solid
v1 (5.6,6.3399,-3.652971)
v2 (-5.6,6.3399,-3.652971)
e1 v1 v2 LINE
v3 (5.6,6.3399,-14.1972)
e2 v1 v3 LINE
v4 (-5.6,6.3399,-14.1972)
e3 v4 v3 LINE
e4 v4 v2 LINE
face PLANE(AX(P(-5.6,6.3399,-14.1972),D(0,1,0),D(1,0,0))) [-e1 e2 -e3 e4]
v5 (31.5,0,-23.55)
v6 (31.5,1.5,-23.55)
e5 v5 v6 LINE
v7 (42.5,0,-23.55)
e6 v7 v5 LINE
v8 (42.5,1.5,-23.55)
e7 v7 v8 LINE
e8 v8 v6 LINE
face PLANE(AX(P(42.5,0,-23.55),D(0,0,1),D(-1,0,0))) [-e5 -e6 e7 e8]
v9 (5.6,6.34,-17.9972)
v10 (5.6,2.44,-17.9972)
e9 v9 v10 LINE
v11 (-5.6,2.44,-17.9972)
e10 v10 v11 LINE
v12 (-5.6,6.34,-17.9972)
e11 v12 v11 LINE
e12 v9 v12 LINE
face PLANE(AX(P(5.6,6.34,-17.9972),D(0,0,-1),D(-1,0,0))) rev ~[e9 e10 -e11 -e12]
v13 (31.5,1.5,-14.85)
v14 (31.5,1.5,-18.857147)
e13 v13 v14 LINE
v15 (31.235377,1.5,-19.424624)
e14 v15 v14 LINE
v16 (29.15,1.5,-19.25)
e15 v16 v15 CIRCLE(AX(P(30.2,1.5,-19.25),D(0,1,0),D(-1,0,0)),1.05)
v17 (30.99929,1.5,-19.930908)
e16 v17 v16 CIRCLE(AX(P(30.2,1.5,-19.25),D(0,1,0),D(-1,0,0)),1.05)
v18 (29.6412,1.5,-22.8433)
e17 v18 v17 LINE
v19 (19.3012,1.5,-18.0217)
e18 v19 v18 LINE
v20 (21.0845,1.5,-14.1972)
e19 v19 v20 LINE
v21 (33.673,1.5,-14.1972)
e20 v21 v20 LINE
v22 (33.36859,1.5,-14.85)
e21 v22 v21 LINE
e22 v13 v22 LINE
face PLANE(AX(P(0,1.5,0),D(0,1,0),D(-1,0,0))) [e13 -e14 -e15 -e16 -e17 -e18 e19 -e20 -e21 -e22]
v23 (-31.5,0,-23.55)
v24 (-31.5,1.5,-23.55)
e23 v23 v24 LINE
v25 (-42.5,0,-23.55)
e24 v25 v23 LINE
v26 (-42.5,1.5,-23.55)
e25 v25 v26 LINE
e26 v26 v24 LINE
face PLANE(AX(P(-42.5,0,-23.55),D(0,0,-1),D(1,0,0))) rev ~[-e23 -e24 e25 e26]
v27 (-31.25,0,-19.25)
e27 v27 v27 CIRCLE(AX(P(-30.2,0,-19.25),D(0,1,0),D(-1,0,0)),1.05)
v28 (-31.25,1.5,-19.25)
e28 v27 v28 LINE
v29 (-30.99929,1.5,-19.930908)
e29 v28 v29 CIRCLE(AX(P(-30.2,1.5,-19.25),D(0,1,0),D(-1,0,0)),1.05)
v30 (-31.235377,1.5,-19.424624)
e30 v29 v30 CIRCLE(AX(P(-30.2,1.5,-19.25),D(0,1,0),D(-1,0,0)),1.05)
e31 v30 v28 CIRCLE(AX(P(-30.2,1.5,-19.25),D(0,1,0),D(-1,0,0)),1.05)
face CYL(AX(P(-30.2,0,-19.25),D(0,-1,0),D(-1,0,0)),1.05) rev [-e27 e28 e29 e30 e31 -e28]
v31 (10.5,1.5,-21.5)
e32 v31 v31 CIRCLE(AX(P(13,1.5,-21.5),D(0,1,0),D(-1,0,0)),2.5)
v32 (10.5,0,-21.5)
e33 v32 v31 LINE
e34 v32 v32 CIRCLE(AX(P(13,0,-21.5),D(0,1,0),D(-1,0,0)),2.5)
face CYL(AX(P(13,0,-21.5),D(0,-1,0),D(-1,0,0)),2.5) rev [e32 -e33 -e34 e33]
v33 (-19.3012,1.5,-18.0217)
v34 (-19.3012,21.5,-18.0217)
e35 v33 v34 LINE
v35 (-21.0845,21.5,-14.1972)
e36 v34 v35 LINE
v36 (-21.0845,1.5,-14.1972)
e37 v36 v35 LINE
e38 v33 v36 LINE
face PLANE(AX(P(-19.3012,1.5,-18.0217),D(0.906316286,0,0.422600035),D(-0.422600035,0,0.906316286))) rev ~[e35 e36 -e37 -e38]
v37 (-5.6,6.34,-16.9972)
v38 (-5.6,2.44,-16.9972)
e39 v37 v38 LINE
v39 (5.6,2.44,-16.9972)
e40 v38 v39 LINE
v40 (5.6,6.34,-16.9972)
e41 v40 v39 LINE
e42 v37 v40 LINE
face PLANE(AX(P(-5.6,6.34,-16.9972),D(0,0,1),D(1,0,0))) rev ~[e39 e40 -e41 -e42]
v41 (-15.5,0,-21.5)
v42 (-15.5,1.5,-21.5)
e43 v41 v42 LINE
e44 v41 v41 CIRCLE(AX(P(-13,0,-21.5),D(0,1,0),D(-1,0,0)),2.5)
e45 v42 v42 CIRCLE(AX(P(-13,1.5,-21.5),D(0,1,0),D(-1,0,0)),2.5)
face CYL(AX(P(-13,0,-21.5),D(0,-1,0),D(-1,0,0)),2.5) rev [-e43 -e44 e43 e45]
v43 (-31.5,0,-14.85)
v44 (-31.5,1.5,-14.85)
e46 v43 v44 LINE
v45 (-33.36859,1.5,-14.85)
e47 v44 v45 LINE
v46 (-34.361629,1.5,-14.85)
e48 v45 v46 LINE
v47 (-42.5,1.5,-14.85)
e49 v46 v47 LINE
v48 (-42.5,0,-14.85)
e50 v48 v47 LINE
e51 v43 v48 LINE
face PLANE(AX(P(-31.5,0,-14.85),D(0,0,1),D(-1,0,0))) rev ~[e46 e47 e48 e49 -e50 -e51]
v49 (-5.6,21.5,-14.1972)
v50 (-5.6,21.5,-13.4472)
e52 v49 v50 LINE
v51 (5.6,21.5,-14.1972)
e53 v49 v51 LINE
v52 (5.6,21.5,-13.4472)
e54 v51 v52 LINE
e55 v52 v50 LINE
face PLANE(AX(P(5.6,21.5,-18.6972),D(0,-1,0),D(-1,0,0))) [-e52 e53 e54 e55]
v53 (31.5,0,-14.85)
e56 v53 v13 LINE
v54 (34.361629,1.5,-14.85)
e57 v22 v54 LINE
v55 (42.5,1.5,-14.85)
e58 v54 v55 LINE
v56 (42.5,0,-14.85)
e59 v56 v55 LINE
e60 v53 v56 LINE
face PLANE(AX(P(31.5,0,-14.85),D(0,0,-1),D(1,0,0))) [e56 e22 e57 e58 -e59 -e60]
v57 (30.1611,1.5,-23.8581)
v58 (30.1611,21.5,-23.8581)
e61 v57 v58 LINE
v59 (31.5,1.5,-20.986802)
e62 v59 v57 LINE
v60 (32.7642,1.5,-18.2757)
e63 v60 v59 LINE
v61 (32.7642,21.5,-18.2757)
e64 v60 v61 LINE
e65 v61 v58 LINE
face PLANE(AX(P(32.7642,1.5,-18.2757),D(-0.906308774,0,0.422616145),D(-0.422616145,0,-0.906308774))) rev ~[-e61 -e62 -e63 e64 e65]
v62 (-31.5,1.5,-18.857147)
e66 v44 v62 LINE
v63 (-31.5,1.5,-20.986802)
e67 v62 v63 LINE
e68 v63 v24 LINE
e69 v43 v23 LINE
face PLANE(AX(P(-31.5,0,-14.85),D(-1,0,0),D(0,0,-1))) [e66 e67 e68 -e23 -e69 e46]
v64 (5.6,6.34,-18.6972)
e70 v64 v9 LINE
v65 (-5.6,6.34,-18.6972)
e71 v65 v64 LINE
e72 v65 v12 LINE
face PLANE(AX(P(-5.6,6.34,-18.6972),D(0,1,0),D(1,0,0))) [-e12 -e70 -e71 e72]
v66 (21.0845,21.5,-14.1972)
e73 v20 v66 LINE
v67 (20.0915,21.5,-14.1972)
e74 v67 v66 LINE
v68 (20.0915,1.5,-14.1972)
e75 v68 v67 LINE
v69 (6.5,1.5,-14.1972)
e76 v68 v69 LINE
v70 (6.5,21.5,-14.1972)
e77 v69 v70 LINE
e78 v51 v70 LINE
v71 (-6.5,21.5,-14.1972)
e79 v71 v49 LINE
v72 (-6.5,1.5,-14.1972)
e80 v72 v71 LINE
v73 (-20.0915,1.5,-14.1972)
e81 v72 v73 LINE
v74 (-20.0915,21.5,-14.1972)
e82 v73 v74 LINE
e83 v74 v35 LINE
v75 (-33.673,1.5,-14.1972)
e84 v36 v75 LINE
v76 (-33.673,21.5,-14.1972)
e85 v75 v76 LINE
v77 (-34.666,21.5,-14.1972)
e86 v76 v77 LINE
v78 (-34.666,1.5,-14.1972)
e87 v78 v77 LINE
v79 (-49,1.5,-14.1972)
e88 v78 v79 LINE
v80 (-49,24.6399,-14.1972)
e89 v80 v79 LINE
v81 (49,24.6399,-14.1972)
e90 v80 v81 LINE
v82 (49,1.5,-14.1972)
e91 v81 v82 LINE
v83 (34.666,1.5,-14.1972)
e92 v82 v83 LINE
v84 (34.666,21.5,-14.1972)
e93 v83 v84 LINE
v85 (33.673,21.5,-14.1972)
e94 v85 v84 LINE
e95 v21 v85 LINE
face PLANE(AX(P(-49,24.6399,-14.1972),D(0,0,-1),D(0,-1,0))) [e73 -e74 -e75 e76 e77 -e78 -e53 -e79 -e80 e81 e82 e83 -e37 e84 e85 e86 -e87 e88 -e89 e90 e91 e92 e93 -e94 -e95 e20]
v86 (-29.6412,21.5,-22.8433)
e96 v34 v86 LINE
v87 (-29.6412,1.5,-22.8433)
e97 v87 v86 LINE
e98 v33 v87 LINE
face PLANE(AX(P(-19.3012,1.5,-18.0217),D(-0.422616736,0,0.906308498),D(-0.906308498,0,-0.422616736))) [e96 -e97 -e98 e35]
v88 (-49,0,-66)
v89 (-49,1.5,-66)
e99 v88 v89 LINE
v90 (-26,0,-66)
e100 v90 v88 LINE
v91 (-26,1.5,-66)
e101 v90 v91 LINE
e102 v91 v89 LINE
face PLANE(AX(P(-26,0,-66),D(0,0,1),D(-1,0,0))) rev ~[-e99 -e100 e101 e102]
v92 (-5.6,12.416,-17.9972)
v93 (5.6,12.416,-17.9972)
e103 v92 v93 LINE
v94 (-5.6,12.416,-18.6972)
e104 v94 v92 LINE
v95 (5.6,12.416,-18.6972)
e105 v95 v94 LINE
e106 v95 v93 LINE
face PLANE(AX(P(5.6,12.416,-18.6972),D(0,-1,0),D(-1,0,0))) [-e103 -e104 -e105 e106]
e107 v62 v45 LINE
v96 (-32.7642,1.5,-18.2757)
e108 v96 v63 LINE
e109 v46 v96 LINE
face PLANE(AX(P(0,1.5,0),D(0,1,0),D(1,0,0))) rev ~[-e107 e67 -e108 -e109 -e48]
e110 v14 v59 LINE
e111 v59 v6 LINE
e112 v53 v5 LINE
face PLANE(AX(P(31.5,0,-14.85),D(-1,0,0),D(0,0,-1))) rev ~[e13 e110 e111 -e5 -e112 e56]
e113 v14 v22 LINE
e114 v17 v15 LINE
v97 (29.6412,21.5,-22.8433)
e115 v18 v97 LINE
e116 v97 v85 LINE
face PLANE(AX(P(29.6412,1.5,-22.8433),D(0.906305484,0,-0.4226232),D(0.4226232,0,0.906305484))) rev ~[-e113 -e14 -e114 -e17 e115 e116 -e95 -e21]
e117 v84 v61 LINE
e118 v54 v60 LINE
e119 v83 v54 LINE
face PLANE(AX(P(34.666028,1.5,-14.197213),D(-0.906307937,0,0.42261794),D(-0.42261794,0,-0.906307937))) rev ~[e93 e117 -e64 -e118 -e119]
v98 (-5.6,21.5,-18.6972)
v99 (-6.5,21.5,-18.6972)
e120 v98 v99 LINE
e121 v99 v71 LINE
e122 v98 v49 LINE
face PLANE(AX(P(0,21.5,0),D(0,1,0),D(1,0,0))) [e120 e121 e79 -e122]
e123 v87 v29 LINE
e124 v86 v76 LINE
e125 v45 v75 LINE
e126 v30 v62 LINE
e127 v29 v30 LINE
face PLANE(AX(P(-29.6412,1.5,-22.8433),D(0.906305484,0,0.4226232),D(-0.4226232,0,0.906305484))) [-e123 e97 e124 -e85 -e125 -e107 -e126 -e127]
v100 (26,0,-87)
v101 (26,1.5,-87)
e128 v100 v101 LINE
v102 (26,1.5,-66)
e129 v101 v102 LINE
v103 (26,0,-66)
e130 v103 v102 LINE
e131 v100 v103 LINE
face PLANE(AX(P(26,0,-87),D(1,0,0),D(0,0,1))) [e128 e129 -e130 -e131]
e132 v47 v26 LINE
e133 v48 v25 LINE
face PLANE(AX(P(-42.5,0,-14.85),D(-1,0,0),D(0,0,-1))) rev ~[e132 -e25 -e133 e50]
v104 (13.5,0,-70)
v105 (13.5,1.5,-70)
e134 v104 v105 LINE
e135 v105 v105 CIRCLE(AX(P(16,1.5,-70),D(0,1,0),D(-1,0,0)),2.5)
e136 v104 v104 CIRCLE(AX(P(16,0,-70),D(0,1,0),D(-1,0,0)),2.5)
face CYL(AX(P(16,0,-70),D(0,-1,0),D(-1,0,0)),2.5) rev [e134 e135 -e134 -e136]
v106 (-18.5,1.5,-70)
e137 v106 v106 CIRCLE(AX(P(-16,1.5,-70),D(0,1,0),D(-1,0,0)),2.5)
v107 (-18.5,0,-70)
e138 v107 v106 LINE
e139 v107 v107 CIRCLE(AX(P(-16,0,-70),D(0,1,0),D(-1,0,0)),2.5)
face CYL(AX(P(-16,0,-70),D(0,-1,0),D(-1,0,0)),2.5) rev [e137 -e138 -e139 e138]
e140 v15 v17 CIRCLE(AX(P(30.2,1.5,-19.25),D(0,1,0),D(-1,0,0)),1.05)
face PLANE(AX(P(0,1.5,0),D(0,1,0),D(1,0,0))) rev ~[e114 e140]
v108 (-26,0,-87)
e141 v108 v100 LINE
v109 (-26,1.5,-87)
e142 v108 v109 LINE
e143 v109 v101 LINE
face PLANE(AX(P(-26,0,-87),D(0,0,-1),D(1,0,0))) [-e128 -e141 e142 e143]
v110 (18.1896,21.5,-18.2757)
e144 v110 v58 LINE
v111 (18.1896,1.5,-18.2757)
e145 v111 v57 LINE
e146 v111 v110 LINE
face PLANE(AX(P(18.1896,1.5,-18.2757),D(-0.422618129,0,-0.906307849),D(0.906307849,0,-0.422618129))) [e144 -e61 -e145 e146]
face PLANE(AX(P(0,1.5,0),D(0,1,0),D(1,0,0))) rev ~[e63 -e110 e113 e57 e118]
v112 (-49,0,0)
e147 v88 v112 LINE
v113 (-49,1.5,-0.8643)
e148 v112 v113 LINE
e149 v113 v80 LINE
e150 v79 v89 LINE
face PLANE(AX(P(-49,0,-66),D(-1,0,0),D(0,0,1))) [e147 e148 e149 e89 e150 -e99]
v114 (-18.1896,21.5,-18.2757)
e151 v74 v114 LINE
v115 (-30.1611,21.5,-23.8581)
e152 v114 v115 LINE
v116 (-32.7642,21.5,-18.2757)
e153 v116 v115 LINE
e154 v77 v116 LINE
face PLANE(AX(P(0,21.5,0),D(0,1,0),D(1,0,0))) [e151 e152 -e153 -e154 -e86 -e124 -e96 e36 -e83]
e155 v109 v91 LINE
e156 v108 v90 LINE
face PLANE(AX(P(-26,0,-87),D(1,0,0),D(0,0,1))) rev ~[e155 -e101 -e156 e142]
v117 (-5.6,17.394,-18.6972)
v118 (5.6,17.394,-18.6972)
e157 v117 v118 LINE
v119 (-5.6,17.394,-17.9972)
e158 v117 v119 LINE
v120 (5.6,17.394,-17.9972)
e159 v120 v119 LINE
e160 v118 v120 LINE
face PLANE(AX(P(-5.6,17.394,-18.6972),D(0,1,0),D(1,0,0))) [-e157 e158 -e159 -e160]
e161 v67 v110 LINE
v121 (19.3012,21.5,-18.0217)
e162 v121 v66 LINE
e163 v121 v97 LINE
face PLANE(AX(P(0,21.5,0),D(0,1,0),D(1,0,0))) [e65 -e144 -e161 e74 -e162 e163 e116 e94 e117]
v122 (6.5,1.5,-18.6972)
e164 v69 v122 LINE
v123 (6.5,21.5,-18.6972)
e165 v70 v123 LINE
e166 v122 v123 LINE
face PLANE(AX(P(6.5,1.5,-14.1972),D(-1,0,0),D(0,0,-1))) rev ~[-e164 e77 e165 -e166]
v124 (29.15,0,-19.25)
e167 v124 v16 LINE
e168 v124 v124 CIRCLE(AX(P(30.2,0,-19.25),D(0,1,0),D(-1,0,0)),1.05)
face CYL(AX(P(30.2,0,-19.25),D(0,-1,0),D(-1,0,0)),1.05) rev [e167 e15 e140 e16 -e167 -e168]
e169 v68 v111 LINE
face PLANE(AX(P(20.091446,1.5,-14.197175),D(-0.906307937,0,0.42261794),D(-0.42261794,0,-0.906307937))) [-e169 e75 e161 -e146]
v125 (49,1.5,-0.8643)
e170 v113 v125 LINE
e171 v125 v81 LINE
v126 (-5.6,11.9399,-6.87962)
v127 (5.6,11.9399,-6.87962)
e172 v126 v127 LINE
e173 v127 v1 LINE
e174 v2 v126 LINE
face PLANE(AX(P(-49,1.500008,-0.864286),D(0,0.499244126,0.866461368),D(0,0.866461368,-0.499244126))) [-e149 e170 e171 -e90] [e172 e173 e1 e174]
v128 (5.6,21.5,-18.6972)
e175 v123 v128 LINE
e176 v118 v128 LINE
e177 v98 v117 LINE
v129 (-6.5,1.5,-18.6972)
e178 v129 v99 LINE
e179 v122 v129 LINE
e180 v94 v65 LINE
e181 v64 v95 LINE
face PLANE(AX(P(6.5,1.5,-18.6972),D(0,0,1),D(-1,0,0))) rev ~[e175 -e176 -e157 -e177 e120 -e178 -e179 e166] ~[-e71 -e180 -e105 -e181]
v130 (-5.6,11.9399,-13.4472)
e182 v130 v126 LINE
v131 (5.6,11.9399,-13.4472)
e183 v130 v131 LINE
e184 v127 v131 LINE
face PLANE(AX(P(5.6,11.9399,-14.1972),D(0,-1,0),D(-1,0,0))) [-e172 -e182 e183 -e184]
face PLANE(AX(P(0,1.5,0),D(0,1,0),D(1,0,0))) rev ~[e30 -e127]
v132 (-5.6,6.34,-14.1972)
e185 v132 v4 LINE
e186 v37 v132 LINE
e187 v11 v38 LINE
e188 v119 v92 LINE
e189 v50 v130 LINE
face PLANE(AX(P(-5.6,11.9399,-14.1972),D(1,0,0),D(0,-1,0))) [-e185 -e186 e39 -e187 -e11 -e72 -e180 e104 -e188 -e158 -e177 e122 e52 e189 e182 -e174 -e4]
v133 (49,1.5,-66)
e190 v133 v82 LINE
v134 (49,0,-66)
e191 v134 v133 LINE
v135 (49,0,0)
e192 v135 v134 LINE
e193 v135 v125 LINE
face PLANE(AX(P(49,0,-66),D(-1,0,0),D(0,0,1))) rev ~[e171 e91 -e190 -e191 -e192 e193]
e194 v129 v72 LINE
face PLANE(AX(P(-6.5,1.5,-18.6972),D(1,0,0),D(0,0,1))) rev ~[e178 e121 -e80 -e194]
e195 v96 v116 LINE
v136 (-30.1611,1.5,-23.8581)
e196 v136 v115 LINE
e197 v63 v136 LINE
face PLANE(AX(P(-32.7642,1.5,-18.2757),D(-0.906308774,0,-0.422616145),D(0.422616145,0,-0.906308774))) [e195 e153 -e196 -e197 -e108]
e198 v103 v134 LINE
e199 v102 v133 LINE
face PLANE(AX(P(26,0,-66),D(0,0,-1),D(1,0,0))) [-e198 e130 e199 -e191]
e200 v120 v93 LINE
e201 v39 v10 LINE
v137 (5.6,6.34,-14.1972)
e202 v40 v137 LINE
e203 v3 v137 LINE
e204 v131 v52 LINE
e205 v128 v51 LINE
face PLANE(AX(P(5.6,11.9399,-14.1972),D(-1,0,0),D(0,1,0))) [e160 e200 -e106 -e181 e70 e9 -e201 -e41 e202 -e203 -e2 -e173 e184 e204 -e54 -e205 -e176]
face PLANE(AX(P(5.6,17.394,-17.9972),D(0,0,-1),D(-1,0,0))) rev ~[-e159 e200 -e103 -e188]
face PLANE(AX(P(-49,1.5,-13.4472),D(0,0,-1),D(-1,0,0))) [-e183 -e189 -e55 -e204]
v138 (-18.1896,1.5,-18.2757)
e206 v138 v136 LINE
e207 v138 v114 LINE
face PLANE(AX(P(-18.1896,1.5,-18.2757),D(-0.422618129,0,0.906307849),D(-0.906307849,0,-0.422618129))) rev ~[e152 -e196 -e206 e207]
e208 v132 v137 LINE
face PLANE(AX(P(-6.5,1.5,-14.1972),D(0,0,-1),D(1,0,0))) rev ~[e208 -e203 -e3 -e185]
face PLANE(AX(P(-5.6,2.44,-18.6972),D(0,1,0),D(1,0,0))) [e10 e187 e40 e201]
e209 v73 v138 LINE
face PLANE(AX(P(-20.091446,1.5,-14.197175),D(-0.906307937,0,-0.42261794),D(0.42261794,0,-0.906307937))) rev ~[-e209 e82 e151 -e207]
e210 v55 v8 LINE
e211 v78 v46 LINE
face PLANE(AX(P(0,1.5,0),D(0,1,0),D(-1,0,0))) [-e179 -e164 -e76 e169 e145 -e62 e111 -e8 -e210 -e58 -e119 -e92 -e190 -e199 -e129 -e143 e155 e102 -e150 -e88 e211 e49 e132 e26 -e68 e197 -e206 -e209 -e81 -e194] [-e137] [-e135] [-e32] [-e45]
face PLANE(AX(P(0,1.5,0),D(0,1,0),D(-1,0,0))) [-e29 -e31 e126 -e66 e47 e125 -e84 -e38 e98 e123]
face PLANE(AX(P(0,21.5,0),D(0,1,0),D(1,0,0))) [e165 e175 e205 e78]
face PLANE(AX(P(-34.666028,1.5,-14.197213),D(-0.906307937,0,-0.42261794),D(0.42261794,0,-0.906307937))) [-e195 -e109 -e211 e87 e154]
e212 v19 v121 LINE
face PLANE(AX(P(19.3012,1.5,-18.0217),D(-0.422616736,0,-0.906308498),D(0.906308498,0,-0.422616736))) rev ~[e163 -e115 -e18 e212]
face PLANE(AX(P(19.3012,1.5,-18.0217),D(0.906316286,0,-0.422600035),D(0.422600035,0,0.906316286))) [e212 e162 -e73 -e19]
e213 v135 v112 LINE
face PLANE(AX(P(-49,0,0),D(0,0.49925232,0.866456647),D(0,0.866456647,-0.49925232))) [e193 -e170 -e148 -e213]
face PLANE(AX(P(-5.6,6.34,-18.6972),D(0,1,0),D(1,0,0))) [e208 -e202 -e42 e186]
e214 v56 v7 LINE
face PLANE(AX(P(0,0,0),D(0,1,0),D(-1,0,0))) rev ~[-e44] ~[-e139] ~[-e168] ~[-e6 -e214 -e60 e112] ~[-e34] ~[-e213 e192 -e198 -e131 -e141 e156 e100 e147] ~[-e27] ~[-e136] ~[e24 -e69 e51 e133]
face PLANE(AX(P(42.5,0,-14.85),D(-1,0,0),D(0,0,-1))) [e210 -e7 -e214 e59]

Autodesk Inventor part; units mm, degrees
ref_plane "YZ Plane" through (0, 0, 0) normal (1, 0, 0) x (0, 1, 0)
ref_plane "XZ Plane" through (0, 0, 0) normal (0, 1, 0) x (-1, 0, 0)
ref_plane "XY Plane" through (0, 0, 0) normal (0, 0, 1) x (1, 0, 0)
sketch "Boceto1" plane through (0, 0, 0) normal (0, 1, 0) x (-1, 0, 0)
  line L0 (26, -66) -> (49, -66)
  line L1 (0, -87) -> (0, 0) construction
  line L2 (49, 0) -> (49, -87)
  line L3 (-49, 0) -> (49, 0)
  line L4 (-49, -87) -> (-49, 0)
  line L5 (49, -87) -> (-49, -87)
  line L6 (26, -87) -> (26, -66)
  circle A0 centre (-41.5, -7.5) radius 1.75
  line L7 (49, -12) -> (-49, -12) construction
  circle A1 centre (41.5, -7.5) radius 1.75
  line L8 (-26, -66) -> (-49, -66)
  line L9 (-26, -87) -> (-26, -66)
  line L10 (44.5, -24.05) -> (28.5, -24.05)
  line L11 (28.5, -24.05) -> (28.5, -13.05)
  line L12 (28.5, -13.05) -> (44.5, -13.05)
  line L13 (44.5, -13.05) -> (44.5, -24.05)
  line L14 (42.5, -23.55) -> (31.5, -23.55)
  line L15 (31.5, -14.85) -> (42.5, -14.85)
  line L16 (42.5, -14.85) -> (42.5, -23.55)
  circle A2 centre (30.2, -19.25) radius 1.05
  line L17 (31.5, -14.85) -> (31.5, -23.55)
  line L18 (-42.5, -23.55) -> (-31.5, -23.55)
  line L19 (-42.5, -14.85) -> (-42.5, -23.55)
  line L20 (-31.5, -14.85) -> (-42.5, -14.85)
  line L21 (-31.5, -14.85) -> (-31.5, -23.55)
  circle A3 centre (-30.2, -19.25) radius 1.05
  circle A4 centre (13, -21.5) radius 2.5
  circle A5 centre (-13, -21.5) radius 2.5
  circle A6 centre (16, -70) radius 2.5
  circle A7 centre (-16, -70) radius 2.5
  dimension "d0" = 3.5
  dimension "d1" = 0
  dimension "d2" = 87
  dimension "d3" = 21
  dimension "d4" = 12
  dimension "d5" = 23
  dimension "d6" = 98
  dimension "d7" = 7.5
  dimension "d8" = 7.5
  dimension "d9" = 79.5
  dimension "d10" = 2.1
  dimension "d11" = 9
  dimension "d12" = 11
  dimension "d13" = 16
  dimension "d14" = 1
  dimension "d15" = 3.6
  dimension "d16" = 2.1
  dimension "d17" = 1.3
  dimension "d18" = 5
  dimension "d19" = 36
  dimension "d20" = 9.5
  dimension "d21" = 5
  dimension "d22" = 17
  dimension "d23" = 10
  dimension "d24" = 8.7
  dimension "d25" = 4.3
  dimension "d26" = 4
  dimension "d27" = 11
  dimension "d28" = 54
  dimension "d29" = 2.85
extrude "Base" add sketch "Boceto1" along normal blind 1.5 contours L6 L5 L9 L8 L4 L3 L2 L0 | L10 L11 L12 L13
sketch "Boceto2" plane through (-49, 0, -66) normal (-1, 0, 0) x (0, 0, 1)
  line L0 (66, 0) -> (0, 0)
  line L1 (66, 0) -> (65.1357, 1.5)
  line L2 (66, 0) -> (67.7312, 0) construction
  line L3 (65.1357, 1.5) -> (66, 1.5)
  line L4 (66, 0) -> (66, 1.5)
  line L5 (66, 1.5) -> (66, 0)
  dimension "d32" = 119.95
extrude "Angulo Base" cut sketch "Boceto2" against normal blind 98
sketch "Boceto3" plane through (-49, 0, -66) normal (-1, 0, 0) x (0, 0, 1)
  line L0 (0, 0) -> (66, 0) projected
  line L1 (51.8028, 0) -> (66, 0)
  line L2 (66, 0) -> (51.8028, 24.6399)
  line L3 (51.8028, 24.6399) -> (51.8028, 0)
  line L4 (66, 0) -> (65.1357, 1.5) projected
  dimension "d35" = 0
extrude "Extrusión3" add sketch "Boceto3" against normal blind 98
sketch "Boceto4" plane through (-49, 1.5, -14.1972) normal (0, 0, -1) x (-1, 0, 0)
  line L0 (-55.5, 19.6399) -> (-42.5, 19.6399)
  line L1 (-42.5, 19.6399) -> (-42.5, 0.9399)
  line L2 (-42.5, 0.9399) -> (-55.5, 0.9399)
  line L3 (-55.5, 0.9399) -> (-55.5, 19.6399)
  line L4 (-54.6, 10.4399) -> (-43.4, 10.4399)
  line L5 (-43.4, 10.4399) -> (-43.4, 4.8399)
  line L6 (-43.4, 4.8399) -> (-54.6, 4.8399)
  line L7 (-54.6, 4.8399) -> (-54.6, 10.4399)
  line L8 (0, 23.1399) -> (0, 0) projected
  line L9 (-98, 0) -> (-98, 23.1399) projected
  line L10 (0, 23.1399) -> (-98, 23.1399) projected
  line L11 (0, 0) -> (-98, 0) projected
  point P0 (-49, -1.5)
  dimension "d38" = 13
  dimension "d39" = 0.9
  dimension "d40" = 0.9
  dimension "d41" = 3.9
  dimension "d42" = 5.6
  dimension "d43" = 18.7
  dimension "d44" = 42.5
  dimension "d45" = 42.5
  dimension "d46" = 3.5
  dimension "d93" = 0.9399
extrude "Extrusión4" cut sketch "Boceto4" against normal mid plane 76.25 contours L4 L5 L6 L7
sketch "Boceto5" plane through (-49, 1.5, -14.1972) normal (0, 0, -1) x (-1, 0, 0)
  line L0 (-54.6, 19.64) -> (-43.4, 19.64)
  line L1 (-43.4, 19.64) -> (-43.4, 4.84)
  line L2 (-43.4, 4.84) -> (-54.6, 4.84)
  line L3 (-54.6, 4.84) -> (-54.6, 19.64)
  line L4 (-54.6, 4.8399) -> (-54.6, 10.4399) projected
  line L5 (-43.4, 10.4399) -> (-43.4, 4.8399) projected
  line L6 (-43.4, 4.8399) -> (-54.6, 4.8399) projected
  line L7 (-75, 0) -> (-23, 0) projected
  line L8 (0, 23.1399) -> (-98, 23.1399) projected
  point P0 (-49, -1.5)
  dimension "d49" = 11.2
  dimension "d50" = 14.8
  dimension "d76" = 4.84
extrude "Extrusión5" cut sketch "Boceto5" against normal mid plane 1.5
sketch "Boceto6" plane through (0, 1.5, 0) normal (0, 1, 0) x (1, 0, 0)
  line L0 (6.5, 13.7984) -> (-6.5, 13.7984)
  line L1 (-6.5, 13.7984) -> (-6.5, 13.8318)
  line L2 (-6.5, 13.8318) -> (6.5, 13.8318)
  line L3 (6.5, 13.8318) -> (6.5, 13.7984)
  line L4 (-6.5, 13.8318) -> (6.5, 13.8318)
  line L5 (6.5, 13.8318) -> (6.5, 18.6972)
  line L6 (6.5, 18.6972) -> (-6.5, 18.6972)
  line L7 (-6.5, 18.6972) -> (-6.5, 13.8318)
  line L8 (-49, 14.1972) -> (49, 14.1972) projected
  point P0 (0, 0)
  point P1 (-6.5, 14.1972)
  point P2 (6.5, 14.1972)
  dimension "d53" = 13
  dimension "d54" = 4.5
extrude "Extrusión6" add sketch "Boceto6" along normal blind 20 contours L8 L7 L6 L5
sketch "Boceto7" plane through (6.5, 1.5, -18.6972) normal (0, 0, -1) x (-1, 0, 0)
  line L0 (0.9, 10.916) -> (12.1, 10.916)
  line L1 (12.1, 10.916) -> (12.1, 4.84)
  line L2 (12.1, 4.84) -> (0.9, 4.84)
  line L3 (0.9, 4.84) -> (0.9, 10.916)
  line L4 (13, 0) -> (0, 0) projected
  line L5 (0, 0) -> (0, 20) projected
  line L6 (0.9, 20) -> (12.1, 20)
  line L7 (12.1, 20) -> (12.1, 15.894)
  line L8 (12.1, 15.894) -> (0.9, 15.894)
  line L9 (0.9, 15.894) -> (0.9, 20)
  line L10 (0, 20) -> (13, 20) projected
  point P0 (6.5, -1.5)
  dimension "d57" = 4.84
  dimension "d58" = 6.076
  dimension "d59" = 11.2
  dimension "d60" = 0.9
  dimension "d61" = 4.978
  dimension "d62" = 11.2
  dimension "d63" = 0.9
  dimension "d64" = 0
extrude "Extrusión7" cut sketch "Boceto7" against normal blind 5.25
sketch "Boceto8" plane through (-5.6, 17.394, -18.6972) normal (0, 1, 0) x (1, 0, 0)
  line L0 (0, 0) -> (0, -4.5) projected
  line L1 (0, -4.5) -> (11.2, -4.5)
  line L2 (11.2, -4.5) -> (11.2, -0.7)
  line L3 (11.2, -0.7) -> (0, -0.7)
  line L4 (0, -0.7) -> (0, -4.5)
  point P0 (5.6, -18.6972)
  point P1 (0, -0.7)
  dimension "d67" = 3.8
  dimension "d68" = 11.2
extrude "Extrusión8" cut sketch "Boceto8" against normal blind 10.054
sketch "Boceto9" plane through (-5.6, 6.34, -18.6972) normal (0, 1, 0) x (1, 0, 0)
  line L0 (11.2, 0) -> (11.2, -0.7) projected
  line L1 (0, 0) -> (0, -4.5) projected
  line L2 (11.2, -0.7) -> (0, -0.7)
  line L3 (0, -0.7) -> (0, -1.7)
  line L4 (0, -1.7) -> (11.2, -1.7)
  line L5 (11.2, -1.7) -> (11.2, -0.7)
  point P0 (5.6, -18.6972)
  dimension "d77" = 1
extrude "Extrusión9" cut sketch "Boceto9" against normal blind 3.9
sketch "Boceto14" plane through (0, 1.5, 0) normal (0, 1, 0) x (1, 0, 0)
  line L0 (6.5, 14.1972) -> (6.5, 18.6972) projected
  line L1 (-6.5, 14.1972) -> (6.5, 14.1972)
  line L2 (6.5, 14.1972) -> (6.5, 18.6972)
  line L3 (6.5, 18.6972) -> (-6.5, 18.6972)
  line L4 (-6.5, 18.6972) -> (-6.5, 14.1972)
  line L5 (39.9859, 2.7887) -> (25.4113, 2.7887) projected
  line L6 (25.4113, 2.7887) -> (18.1896, 18.2757)
  line L7 (39.9859, 2.7887) -> (32.7642, 18.2757)
  line L8 (34.666, 14.1972) -> (39.9859, 2.7887) projected
  line L9 (18.1896, 18.2757) -> (30.1611, 23.8581)
  line L10 (18.1896, 18.2757) -> (35.316, 18.2757) construction
  line L11 (32.7642, 18.2757) -> (30.1611, 23.8581)
  line L12 (25.4113, 2.7887) -> (37.326, 8.493)
  line L13 (-5.6, 17.9972) -> (5.6, 17.9972) projected
  line L14 (5.6, 18.6972) -> (5.6, 14.1972) projected
  line L15 (20.0915, 14.1972) -> (34.666, 14.1972) projected
  line L16 (29.6412, 22.8433) -> (33.673, 14.1972)
  line L17 (19.3012, 18.0217) -> (29.6412, 22.8433)
  line L18 (19.3012, 18.0217) -> (21.0845, 14.1972)
  line L19 (20.0915, 14.1972) -> (21.0845, 14.1972)
  line L20 (33.673, 14.1972) -> (34.666, 14.1972)
  line L21 (0, 0) -> (0, 87)
  line L22 (26, 87) -> (-26, 87) projected
  line L23 (-25.4113, 2.7887) -> (-18.1896, 18.2757)
  line L24 (-39.9859, 2.7887) -> (-32.7642, 18.2757)
  line L25 (-18.1896, 18.2757) -> (-30.1611, 23.8581)
  line L26 (-18.1896, 18.2757) -> (-35.316, 18.2757) construction
  line L27 (-32.7642, 18.2757) -> (-30.1611, 23.8581)
  line L28 (-25.4113, 2.7887) -> (-37.326, 8.493)
  line L29 (-20.0915, 14.1972) -> (-34.666, 14.1972)
  line L30 (-29.6412, 22.8433) -> (-33.673, 14.1972)
  line L31 (-19.3012, 18.0217) -> (-29.6412, 22.8433)
  line L32 (-19.3012, 18.0217) -> (-21.0845, 14.1972)
  line L33 (-20.0915, 14.1972) -> (-21.0845, 14.1972)
  dimension "d94" = 13
  dimension "d95" = 4.5
  dimension "d96" = 17.088
  dimension "d97" = 17.088
  dimension "d98" = 25
  dimension "d99" = 0.7
  dimension "d100" = 0.9
  dimension "d101" = 90
  dimension "d103" = 0.9
  dimension "d104" = 0.7
extrude "Extrusión11" add sketch "Boceto14" along normal up to surface (20 mm away) contours L6 L9 L11 L7 L15 L16 L17 L18 | L29 L32 L31 L30 L24 L27 L25 L23
sketch "Boceto15" plane through (30.1611, 1.5, -23.8581) normal (-0.4226, 0, -0.9063) x (-0.9063, 0, 0.4226)
  point P0 (37.4181, -1.5)
equation "\"Radio_pliegue\" = Grosor"
equation "\"Anchura_desahogo_plegado\" = Grosor"
equation "\"Profundidad_desahogo_plegado\" = 0.5 * Grosor"
equation "\"Tamaño_destalonado\" = 4 * Grosor"
equation "\"Remanente_mínimo\" = 2 * Grosor"
equation "\"Radiodetransición\" = Radio_pliegue"
equation "\"Tamaño_de_radio_de_Jacobi\" = Radio_pliegue"
equation "\"TamañoSeparación\" = Grosor"
equation "\"Grosor\" = 0.5"
properties part number "Onixium3"
